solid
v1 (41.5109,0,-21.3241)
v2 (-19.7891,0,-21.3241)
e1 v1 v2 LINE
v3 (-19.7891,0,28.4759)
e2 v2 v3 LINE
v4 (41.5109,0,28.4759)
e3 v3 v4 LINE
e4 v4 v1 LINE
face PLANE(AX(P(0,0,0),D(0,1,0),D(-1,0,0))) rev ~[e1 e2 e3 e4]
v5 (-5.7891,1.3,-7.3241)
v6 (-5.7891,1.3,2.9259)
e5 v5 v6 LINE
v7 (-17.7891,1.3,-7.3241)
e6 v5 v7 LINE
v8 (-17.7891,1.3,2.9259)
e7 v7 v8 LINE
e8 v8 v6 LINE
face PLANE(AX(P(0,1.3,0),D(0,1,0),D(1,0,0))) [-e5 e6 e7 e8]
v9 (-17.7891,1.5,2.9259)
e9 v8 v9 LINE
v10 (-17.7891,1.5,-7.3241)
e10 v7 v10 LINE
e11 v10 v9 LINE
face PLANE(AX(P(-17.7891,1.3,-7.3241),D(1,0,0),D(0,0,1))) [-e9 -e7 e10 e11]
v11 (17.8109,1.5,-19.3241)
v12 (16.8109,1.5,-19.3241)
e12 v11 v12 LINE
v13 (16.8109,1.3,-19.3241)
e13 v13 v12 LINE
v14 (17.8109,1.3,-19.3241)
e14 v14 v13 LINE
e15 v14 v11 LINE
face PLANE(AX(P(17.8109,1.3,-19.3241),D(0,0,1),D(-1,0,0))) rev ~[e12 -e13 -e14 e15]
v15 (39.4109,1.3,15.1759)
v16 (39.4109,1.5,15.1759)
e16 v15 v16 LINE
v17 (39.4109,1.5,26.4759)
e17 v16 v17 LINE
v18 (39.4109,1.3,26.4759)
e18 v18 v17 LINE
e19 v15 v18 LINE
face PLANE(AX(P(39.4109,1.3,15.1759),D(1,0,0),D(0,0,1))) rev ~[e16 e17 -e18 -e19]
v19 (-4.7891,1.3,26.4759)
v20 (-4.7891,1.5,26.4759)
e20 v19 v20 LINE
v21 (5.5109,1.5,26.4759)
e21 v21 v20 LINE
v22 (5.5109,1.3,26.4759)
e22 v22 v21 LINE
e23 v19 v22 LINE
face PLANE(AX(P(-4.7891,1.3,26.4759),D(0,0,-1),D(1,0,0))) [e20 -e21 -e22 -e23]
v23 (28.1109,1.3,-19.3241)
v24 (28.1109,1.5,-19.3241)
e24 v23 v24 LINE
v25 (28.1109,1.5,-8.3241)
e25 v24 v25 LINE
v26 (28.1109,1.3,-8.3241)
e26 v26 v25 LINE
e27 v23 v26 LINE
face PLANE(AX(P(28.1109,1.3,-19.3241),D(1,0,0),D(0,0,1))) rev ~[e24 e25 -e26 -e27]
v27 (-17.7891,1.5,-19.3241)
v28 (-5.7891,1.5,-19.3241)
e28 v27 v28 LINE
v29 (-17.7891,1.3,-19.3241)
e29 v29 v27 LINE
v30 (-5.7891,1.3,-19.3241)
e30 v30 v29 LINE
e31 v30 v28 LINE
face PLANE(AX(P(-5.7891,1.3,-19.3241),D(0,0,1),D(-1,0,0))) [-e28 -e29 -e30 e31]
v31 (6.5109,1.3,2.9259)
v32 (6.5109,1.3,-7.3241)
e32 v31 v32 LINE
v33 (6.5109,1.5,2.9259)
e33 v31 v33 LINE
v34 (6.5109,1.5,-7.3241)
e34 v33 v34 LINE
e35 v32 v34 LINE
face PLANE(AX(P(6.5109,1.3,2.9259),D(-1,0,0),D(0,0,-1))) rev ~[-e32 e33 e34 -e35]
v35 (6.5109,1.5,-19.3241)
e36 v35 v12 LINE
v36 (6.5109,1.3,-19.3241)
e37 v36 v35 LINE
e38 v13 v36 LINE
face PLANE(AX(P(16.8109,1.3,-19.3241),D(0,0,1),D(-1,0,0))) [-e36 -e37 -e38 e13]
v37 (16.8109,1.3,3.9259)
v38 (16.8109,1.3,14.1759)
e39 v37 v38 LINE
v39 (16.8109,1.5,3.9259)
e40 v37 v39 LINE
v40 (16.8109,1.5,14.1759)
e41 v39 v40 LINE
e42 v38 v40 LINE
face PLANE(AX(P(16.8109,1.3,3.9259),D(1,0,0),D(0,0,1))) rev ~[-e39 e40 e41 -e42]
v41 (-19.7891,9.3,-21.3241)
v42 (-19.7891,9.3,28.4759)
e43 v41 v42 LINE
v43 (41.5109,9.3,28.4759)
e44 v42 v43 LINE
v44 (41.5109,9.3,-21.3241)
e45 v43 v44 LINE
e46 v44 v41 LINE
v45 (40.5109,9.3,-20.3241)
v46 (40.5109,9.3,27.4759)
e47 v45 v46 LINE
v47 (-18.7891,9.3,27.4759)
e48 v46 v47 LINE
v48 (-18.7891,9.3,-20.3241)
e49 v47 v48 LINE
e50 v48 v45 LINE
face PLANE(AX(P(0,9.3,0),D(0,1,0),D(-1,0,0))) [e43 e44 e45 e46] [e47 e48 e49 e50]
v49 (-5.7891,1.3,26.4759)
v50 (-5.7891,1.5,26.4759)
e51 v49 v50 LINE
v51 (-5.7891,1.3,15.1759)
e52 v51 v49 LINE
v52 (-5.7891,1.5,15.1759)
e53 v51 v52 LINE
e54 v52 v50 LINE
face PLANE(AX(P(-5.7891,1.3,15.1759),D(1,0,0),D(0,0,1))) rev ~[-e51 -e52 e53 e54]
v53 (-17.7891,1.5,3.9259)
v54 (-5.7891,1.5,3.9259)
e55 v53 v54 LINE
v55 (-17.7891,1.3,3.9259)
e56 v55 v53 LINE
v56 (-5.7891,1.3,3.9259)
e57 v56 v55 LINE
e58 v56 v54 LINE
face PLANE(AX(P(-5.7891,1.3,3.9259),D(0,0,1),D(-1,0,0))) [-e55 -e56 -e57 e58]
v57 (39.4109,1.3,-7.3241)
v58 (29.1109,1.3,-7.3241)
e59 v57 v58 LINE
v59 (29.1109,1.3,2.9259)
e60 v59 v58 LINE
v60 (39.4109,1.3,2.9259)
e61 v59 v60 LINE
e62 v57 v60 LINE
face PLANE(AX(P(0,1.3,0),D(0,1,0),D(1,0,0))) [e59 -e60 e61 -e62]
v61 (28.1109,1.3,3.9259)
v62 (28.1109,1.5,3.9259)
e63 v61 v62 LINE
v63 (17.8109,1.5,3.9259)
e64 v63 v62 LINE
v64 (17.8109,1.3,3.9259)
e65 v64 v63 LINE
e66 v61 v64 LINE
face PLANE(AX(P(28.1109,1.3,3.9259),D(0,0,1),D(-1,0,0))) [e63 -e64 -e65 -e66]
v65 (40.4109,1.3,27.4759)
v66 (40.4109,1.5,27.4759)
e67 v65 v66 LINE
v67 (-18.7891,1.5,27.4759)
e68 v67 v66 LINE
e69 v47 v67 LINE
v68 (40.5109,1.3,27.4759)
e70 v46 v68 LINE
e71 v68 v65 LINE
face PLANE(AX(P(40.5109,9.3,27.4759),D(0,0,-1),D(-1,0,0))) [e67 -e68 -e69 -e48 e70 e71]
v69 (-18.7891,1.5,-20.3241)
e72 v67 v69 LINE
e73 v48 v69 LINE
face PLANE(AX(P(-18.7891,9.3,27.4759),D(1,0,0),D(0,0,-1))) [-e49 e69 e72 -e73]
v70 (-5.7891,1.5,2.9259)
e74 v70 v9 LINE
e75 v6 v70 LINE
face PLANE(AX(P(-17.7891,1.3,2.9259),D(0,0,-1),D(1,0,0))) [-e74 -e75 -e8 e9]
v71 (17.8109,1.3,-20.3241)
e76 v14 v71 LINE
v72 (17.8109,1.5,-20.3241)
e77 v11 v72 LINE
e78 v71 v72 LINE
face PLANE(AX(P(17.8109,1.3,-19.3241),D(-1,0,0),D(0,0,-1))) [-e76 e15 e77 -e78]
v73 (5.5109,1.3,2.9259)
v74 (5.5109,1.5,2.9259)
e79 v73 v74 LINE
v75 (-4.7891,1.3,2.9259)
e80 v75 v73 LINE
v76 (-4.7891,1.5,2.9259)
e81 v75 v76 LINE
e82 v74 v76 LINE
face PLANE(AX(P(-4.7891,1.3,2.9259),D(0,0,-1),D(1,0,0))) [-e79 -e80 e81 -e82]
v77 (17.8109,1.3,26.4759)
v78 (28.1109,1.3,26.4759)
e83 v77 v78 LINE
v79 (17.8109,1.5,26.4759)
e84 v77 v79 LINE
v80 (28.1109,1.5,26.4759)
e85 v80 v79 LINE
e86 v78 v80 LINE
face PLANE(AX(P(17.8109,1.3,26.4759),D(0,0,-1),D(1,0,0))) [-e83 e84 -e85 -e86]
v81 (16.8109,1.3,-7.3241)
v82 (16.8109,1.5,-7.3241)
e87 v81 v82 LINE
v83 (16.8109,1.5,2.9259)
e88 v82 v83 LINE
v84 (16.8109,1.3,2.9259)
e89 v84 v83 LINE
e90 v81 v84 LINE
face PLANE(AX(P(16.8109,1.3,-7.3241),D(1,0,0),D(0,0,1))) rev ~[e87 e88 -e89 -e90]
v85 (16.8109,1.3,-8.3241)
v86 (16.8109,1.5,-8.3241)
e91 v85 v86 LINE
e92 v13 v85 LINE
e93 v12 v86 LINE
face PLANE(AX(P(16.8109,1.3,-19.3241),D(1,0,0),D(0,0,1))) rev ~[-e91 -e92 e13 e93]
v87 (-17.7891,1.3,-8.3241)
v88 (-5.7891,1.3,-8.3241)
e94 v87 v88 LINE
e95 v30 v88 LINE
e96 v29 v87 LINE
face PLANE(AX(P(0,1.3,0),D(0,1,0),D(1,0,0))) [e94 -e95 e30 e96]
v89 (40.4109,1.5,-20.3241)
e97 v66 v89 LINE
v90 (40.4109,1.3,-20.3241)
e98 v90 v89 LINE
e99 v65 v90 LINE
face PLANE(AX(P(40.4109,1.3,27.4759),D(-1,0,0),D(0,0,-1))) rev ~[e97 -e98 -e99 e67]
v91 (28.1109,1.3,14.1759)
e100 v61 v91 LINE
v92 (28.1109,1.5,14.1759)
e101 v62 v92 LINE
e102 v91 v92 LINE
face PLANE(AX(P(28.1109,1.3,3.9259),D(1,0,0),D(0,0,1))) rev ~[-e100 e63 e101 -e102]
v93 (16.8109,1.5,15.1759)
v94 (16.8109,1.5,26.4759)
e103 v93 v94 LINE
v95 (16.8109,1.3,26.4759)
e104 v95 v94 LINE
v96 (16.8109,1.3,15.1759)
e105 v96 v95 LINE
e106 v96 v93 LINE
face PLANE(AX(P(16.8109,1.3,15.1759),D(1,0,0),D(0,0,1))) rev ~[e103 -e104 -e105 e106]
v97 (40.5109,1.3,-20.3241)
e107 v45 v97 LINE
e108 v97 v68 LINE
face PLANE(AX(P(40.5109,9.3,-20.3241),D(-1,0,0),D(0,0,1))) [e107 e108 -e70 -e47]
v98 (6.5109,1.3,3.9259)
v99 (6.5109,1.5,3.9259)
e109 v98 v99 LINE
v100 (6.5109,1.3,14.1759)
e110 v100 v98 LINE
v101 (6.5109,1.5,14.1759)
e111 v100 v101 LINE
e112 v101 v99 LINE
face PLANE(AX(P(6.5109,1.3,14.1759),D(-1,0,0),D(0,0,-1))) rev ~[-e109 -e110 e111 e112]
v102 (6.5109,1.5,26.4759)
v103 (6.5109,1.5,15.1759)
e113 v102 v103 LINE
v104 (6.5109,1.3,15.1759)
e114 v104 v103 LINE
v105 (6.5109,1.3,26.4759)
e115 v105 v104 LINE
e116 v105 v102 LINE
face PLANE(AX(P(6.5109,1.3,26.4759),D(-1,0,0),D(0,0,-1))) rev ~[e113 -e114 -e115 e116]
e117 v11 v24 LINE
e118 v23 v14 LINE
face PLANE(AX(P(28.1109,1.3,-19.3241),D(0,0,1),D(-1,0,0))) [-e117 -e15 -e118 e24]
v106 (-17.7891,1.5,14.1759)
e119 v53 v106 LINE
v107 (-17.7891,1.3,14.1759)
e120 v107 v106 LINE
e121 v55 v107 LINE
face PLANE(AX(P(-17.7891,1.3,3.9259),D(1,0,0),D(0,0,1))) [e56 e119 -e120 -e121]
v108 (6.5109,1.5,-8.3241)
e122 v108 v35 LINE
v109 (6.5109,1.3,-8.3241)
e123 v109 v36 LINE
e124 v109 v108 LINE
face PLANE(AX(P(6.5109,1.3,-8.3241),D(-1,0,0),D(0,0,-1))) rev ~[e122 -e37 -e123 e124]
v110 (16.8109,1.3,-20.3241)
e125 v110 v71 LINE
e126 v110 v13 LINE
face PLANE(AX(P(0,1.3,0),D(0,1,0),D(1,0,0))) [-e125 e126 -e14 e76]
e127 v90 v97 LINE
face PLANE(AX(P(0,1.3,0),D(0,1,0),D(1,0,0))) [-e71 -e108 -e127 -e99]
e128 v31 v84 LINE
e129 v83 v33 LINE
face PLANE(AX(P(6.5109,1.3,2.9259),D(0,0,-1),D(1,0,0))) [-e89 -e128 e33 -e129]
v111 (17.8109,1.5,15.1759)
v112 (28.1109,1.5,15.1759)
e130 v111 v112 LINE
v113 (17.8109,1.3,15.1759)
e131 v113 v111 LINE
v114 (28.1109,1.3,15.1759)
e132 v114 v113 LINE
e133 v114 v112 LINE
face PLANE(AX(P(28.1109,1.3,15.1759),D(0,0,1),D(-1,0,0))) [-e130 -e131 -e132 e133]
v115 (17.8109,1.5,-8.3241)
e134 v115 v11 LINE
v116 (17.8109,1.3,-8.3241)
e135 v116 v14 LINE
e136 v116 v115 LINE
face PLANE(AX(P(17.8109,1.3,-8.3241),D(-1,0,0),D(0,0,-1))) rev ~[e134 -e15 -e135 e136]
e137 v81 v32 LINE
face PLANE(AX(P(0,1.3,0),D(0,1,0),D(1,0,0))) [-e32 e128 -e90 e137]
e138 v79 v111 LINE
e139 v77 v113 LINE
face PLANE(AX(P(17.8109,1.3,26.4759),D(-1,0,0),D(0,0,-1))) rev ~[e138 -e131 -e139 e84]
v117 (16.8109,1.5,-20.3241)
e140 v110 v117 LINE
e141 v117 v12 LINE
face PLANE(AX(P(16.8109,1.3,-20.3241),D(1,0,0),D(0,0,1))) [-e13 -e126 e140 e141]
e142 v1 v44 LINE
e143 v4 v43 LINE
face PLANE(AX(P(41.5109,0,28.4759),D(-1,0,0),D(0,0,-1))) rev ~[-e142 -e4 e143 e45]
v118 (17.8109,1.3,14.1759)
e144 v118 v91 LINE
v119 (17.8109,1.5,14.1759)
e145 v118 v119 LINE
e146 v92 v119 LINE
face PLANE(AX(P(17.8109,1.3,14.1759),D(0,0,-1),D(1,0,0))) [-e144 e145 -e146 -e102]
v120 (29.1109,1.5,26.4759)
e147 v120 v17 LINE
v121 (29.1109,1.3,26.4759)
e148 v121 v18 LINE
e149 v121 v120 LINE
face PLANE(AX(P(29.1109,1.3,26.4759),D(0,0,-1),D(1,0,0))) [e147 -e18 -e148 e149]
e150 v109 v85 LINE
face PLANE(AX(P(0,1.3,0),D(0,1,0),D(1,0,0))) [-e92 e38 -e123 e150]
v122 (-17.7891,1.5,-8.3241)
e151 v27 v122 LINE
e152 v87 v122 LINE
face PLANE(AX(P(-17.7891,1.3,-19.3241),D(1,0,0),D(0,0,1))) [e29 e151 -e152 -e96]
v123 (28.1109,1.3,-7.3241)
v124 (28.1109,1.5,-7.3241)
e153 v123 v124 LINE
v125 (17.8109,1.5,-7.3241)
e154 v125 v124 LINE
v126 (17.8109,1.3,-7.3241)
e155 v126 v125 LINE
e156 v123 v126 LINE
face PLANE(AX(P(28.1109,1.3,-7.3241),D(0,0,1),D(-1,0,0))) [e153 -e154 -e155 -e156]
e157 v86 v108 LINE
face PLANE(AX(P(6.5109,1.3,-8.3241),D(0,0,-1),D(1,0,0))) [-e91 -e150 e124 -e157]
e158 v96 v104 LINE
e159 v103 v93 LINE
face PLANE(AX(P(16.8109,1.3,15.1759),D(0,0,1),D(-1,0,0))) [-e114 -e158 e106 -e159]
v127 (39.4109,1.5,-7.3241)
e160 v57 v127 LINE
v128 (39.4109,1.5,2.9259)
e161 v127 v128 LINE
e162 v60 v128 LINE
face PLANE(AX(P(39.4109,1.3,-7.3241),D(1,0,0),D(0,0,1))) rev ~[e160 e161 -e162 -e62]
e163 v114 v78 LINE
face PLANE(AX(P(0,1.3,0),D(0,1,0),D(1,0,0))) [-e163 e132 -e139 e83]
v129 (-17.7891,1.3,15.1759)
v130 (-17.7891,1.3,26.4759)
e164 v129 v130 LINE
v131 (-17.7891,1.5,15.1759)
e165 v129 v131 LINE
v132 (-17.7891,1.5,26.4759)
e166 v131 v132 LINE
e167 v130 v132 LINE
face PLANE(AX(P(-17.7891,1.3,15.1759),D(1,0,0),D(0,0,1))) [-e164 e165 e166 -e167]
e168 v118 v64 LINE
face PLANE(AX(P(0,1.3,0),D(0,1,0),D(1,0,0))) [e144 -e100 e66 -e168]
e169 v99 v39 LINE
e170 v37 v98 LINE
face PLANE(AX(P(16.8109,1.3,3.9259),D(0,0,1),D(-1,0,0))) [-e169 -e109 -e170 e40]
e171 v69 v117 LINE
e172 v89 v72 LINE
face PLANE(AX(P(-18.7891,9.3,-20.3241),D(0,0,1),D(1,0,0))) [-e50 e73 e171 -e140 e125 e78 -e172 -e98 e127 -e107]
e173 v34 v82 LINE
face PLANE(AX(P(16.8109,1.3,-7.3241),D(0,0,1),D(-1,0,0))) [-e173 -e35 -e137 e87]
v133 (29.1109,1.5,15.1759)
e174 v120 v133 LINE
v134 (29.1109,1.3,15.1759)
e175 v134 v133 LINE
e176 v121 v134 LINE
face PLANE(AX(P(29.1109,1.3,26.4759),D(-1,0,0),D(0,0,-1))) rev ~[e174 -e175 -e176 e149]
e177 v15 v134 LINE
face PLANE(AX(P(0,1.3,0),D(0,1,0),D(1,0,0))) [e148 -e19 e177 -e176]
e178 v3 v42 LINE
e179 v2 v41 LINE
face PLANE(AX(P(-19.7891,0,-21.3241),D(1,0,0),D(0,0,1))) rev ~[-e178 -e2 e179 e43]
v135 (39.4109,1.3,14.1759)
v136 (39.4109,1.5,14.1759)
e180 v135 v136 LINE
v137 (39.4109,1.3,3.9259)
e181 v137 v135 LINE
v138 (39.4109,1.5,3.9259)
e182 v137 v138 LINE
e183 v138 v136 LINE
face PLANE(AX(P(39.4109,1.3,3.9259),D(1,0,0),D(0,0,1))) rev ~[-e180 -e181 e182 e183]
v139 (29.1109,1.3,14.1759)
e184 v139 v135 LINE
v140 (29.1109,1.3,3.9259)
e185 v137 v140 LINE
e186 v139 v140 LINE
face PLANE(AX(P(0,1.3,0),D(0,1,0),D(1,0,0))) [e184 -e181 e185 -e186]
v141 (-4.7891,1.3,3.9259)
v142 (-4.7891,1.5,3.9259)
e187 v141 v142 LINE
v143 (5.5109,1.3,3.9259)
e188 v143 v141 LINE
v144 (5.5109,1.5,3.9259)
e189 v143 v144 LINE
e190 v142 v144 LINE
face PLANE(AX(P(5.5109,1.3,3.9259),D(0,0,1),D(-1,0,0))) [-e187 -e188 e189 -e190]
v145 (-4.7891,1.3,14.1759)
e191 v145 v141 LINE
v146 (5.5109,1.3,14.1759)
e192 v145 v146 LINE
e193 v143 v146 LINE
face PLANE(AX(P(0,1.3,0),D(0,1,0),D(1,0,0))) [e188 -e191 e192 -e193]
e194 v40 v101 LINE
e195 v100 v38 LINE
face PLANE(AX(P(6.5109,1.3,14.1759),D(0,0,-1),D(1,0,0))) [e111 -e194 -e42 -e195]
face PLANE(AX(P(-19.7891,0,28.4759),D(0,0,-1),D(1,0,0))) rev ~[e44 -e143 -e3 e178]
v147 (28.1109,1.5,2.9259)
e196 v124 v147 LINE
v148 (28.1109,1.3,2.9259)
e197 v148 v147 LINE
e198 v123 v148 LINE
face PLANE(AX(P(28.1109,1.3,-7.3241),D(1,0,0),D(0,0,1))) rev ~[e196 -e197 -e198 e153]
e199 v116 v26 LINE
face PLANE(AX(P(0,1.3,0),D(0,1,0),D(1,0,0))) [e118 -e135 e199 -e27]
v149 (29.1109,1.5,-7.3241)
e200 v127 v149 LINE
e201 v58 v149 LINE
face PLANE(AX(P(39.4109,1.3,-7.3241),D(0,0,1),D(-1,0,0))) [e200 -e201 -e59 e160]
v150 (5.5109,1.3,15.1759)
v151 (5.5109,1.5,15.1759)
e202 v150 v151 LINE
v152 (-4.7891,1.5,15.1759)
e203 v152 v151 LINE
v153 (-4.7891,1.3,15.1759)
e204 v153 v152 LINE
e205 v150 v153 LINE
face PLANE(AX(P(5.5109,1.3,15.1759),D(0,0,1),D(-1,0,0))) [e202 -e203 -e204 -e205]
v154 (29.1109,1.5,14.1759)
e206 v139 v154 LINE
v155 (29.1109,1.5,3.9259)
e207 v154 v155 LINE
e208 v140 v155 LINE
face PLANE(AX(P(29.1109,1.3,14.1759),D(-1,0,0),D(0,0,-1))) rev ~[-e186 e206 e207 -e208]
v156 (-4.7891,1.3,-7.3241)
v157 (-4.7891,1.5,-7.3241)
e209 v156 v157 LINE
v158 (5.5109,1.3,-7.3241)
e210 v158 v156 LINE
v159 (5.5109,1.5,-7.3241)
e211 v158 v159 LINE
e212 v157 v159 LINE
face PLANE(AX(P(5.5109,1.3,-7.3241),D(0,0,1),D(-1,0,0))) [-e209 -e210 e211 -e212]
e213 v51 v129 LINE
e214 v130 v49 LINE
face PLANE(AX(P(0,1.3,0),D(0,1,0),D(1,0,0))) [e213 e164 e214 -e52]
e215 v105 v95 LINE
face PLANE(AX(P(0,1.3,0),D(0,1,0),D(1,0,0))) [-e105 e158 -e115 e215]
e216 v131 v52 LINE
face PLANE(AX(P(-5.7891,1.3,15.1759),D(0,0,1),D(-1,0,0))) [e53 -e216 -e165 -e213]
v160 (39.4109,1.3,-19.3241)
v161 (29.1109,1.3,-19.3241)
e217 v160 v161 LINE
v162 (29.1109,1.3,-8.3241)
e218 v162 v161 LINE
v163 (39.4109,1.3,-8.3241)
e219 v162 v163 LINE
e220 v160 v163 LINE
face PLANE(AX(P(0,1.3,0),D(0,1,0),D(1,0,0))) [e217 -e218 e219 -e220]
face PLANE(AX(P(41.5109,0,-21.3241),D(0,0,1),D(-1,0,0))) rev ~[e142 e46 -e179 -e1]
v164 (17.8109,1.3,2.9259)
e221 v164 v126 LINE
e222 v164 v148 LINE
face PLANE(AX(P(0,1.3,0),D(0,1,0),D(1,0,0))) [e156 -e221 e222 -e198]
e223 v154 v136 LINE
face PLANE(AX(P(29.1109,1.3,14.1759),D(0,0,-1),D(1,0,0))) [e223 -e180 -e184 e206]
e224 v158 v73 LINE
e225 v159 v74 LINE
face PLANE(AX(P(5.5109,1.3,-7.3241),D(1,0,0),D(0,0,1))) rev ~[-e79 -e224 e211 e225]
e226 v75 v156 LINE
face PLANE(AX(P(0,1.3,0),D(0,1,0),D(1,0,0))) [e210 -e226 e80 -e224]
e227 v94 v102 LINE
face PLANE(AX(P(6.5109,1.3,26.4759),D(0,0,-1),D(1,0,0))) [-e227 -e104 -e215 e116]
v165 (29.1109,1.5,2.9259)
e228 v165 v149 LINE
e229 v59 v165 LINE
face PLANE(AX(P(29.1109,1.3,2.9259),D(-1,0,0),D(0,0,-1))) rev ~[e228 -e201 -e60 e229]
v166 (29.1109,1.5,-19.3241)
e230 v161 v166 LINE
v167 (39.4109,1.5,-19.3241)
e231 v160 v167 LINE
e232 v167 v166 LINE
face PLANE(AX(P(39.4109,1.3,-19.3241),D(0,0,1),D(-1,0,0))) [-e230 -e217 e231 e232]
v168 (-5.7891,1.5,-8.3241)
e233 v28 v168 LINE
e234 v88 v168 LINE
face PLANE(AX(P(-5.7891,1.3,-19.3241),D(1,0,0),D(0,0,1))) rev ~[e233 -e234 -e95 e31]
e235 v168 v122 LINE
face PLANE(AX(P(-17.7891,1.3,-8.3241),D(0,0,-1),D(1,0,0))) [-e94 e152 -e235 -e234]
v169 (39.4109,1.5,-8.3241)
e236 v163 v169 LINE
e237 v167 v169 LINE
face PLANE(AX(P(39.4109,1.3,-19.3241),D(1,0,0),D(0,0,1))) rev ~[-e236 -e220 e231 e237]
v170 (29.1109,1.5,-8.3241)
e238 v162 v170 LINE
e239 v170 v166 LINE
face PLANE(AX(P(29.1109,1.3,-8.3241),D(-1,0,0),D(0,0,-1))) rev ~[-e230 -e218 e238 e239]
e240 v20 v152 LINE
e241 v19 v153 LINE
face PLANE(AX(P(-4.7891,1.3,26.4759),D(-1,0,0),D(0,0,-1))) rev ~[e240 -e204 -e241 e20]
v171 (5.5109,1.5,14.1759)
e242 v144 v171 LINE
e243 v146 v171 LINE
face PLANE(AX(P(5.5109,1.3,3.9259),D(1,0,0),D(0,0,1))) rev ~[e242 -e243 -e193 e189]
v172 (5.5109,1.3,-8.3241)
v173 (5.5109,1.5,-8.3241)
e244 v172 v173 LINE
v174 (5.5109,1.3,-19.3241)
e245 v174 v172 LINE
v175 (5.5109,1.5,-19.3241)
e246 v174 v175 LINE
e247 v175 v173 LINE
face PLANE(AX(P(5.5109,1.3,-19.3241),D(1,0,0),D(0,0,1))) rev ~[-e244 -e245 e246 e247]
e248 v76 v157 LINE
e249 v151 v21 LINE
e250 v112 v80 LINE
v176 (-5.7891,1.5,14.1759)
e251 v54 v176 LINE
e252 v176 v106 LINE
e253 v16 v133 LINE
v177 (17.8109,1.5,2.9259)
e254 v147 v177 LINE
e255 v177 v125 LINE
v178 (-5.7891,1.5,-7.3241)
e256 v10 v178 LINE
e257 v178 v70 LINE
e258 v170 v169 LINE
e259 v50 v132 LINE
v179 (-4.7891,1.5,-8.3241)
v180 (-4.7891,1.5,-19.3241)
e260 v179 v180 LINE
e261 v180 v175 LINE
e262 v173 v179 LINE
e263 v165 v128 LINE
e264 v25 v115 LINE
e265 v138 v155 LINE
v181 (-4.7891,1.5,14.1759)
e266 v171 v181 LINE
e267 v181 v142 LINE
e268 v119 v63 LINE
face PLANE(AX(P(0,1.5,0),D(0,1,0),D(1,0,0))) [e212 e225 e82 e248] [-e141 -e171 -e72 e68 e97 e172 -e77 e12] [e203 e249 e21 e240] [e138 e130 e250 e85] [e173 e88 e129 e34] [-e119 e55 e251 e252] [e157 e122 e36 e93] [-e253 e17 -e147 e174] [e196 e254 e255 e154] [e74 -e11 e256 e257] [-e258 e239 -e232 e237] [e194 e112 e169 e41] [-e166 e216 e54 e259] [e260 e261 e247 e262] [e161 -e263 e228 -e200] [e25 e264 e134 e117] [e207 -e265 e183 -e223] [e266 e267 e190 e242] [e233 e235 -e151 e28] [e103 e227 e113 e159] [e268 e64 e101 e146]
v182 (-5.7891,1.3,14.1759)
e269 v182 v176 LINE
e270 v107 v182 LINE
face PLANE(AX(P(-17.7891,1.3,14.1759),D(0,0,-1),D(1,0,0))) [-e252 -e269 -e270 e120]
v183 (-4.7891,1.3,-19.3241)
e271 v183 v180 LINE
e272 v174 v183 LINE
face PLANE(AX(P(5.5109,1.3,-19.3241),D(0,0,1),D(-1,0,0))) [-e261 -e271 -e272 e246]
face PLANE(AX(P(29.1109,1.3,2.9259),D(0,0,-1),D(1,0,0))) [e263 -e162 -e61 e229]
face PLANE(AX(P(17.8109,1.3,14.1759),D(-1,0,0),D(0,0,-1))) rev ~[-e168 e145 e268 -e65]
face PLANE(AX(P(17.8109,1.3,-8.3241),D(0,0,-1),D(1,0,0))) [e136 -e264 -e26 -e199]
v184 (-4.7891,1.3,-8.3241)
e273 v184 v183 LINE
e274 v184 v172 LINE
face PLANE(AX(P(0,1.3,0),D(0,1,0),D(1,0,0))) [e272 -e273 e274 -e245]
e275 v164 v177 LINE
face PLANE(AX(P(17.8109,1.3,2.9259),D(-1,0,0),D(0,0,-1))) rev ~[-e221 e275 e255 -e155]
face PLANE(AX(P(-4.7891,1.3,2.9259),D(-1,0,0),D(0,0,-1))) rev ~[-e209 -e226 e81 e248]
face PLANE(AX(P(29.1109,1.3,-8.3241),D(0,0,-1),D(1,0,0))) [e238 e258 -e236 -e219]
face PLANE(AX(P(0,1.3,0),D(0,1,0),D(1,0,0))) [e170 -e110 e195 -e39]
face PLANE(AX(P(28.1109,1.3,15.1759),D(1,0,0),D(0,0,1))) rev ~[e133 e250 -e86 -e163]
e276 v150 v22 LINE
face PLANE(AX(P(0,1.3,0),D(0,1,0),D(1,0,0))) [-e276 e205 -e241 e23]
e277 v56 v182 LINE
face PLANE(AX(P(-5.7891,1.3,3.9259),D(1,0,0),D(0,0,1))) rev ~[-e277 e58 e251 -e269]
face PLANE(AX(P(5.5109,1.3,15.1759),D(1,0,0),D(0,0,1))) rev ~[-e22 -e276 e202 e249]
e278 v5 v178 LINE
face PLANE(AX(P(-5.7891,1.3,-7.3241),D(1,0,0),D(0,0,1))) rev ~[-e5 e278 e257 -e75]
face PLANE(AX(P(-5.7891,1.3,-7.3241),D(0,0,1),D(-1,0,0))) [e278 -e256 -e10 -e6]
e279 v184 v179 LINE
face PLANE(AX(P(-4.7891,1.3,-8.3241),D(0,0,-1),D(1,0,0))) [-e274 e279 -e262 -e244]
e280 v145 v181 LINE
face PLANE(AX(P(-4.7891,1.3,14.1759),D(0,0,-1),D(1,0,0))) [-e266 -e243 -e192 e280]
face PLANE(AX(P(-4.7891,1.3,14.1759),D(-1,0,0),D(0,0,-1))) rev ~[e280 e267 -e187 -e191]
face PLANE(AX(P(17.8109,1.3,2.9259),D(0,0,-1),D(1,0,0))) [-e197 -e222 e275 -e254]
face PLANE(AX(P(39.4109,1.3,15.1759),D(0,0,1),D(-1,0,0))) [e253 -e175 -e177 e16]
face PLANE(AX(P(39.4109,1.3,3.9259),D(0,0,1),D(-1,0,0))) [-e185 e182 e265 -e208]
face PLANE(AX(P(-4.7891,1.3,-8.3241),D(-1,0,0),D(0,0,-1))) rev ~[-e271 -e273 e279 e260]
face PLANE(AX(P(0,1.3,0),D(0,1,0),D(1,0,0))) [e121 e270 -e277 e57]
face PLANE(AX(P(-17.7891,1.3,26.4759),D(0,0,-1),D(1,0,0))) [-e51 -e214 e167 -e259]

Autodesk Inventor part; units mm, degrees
ref_plane "YZ Plane" through (0, 0, 0) normal (1, 0, 0) x (0, 1, 0)
ref_plane "XZ Plane" through (0, 0, 0) normal (0, 1, 0) x (-1, 0, 0)
ref_plane "XY Plane" through (0, 0, 0) normal (0, 0, 1) x (1, 0, 0)
sketch "Sketch1" plane through (0, 0, 0) normal (0, 1, 0) x (-1, 0, 0)
  line L0 (19.7891, 28.4759) -> (-41.5109, 28.4759)
  line L1 (-41.5109, 28.4759) -> (-41.5109, -21.3241)
  line L2 (-41.5109, -21.3241) -> (19.7891, -21.3241)
  line L3 (19.7891, -21.3241) -> (19.7891, 28.4759)
  point P0 (0, 0)
  dimension "d0" = 49.8
  dimension "d1" = 61.3
extrude "Extrusion1" add sketch "Sketch1" along normal blind 9.3
sketch "Sketch2" plane through (0, 9.3, 0) normal (0, 1, 0) x (1, 0, 0)
  line L0 (-18.7891, 20.3241) -> (40.5109, 20.3241)
  line L1 (40.5109, 20.3241) -> (40.5109, -27.4759)
  line L2 (40.5109, -27.4759) -> (-18.7891, -27.4759)
  line L3 (-18.7891, -27.4759) -> (-18.7891, 20.3241)
  line L4 (41.5109, 21.3241) -> (-19.7891, 21.3241) projected
  line L5 (-19.7891, 21.3241) -> (-19.7891, -28.4759) projected
  point P0 (0, 0)
  dimension "d4" = 59.3
  dimension "d5" = 47.8
  dimension "d6" = 1
  dimension "d7" = 1
extrude "Extrusion2" cut sketch "Sketch2" against normal blind 8
sketch "Sketch3" plane through (0, 1.3, 0) normal (0, 1, 0) x (1, 0, 0)
  line L0 (-18.7891, 20.3241) -> (40.5109, 20.3241) projected
  line L1 (40.5109, -27.4759) -> (-18.7891, -27.4759) projected
  line L2 (-18.7891, 20.3241) -> (-17.7891, 20.3241)
  line L3 (-17.7891, 20.3241) -> (-17.7891, -27.4759)
  line L4 (-17.7891, -27.4759) -> (-18.7891, -27.4759)
  line L5 (-18.7891, -27.4759) -> (-18.7891, 20.3241)
  line L6 (-4.7891, 20.3241) -> (-5.7891, 20.3241)
  line L7 (-5.7891, 20.3241) -> (-5.7891, -27.4759)
  line L8 (-5.7891, -27.4759) -> (-4.7891, -27.4759)
  line L9 (-4.7891, -27.4759) -> (-4.7891, 20.3241)
  line L10 (-17.7891, 8.3241) -> (-5.7891, 8.3241)
  line L11 (-5.7891, 8.3241) -> (-5.7891, 7.3241)
  line L12 (-5.7891, 7.3241) -> (-17.7891, 7.3241)
  line L13 (-17.7891, 7.3241) -> (-17.7891, 8.3241)
  line L14 (-17.7891, -2.9259) -> (-5.7891, -2.9259)
  line L15 (-5.7891, -2.9259) -> (-5.7891, -3.9259)
  line L16 (-5.7891, -3.9259) -> (-17.7891, -3.9259)
  line L17 (-17.7891, -3.9259) -> (-17.7891, -2.9259)
  line L18 (-17.7891, -14.1759) -> (-5.7891, -14.1759)
  line L19 (-5.7891, -14.1759) -> (-5.7891, -15.1759)
  line L20 (-5.7891, -15.1759) -> (-17.7891, -15.1759)
  line L21 (-17.7891, -15.1759) -> (-17.7891, -14.1759)
  line L22 (-19.7891, 21.3241) -> (-19.7891, -28.4759) projected
  line L23 (-17.7891, 20.3241) -> (-5.7891, 20.3241)
  line L24 (-5.7891, 20.3241) -> (-5.7891, 19.3241)
  line L25 (-5.7891, 19.3241) -> (-17.7891, 19.3241)
  line L26 (-17.7891, 19.3241) -> (-17.7891, 20.3241)
  line L27 (-17.7891, -26.4759) -> (-5.7891, -26.4759)
  line L28 (-5.7891, -26.4759) -> (-5.7891, -27.4759)
  line L29 (-5.7891, -27.4759) -> (-17.7891, -27.4759)
  line L30 (-17.7891, -27.4759) -> (-17.7891, -26.4759)
  line L31 (5.5109, 19.3241) -> (-6.4891, 19.3241)
  line L32 (6.5109, -27.4759) -> (6.5109, 20.3241)
  line L33 (5.5109, 20.3241) -> (5.5109, -27.4759)
  line L34 (-6.4891, 8.3241) -> (5.5109, 8.3241)
  line L35 (5.5109, 7.3241) -> (-6.4891, 7.3241)
  line L36 (-6.4891, -2.9259) -> (5.5109, -2.9259)
  line L37 (5.5109, -3.9259) -> (-6.4891, -3.9259)
  line L38 (-6.4891, -14.1759) -> (5.5109, -14.1759)
  line L39 (5.5109, -15.1759) -> (-6.4891, -15.1759)
  line L40 (-6.4891, -26.4759) -> (5.5109, -26.4759)
  line L41 (5.5109, -27.4759) -> (-6.4891, -27.4759)
  line L42 (16.8109, 19.3241) -> (4.8109, 19.3241)
  line L43 (17.8109, -27.4759) -> (17.8109, 20.3241)
  line L44 (16.8109, 20.3241) -> (16.8109, -27.4759)
  line L45 (4.8109, 8.3241) -> (16.8109, 8.3241)
  line L46 (16.8109, 7.3241) -> (4.8109, 7.3241)
  line L47 (4.8109, -2.9259) -> (16.8109, -2.9259)
  line L48 (16.8109, -3.9259) -> (4.8109, -3.9259)
  line L49 (4.8109, -14.1759) -> (16.8109, -14.1759)
  line L50 (16.8109, -15.1759) -> (4.8109, -15.1759)
  line L51 (4.8109, -26.4759) -> (16.8109, -26.4759)
  line L52 (16.8109, -27.4759) -> (4.8109, -27.4759)
  line L53 (28.1109, 19.3241) -> (16.1109, 19.3241)
  line L54 (29.1109, -27.4759) -> (29.1109, 20.3241)
  line L55 (28.1109, 20.3241) -> (28.1109, -27.4759)
  line L56 (16.1109, 8.3241) -> (28.1109, 8.3241)
  line L57 (28.1109, 7.3241) -> (16.1109, 7.3241)
  line L58 (16.1109, -2.9259) -> (28.1109, -2.9259)
  line L59 (28.1109, -3.9259) -> (16.1109, -3.9259)
  line L60 (16.1109, -14.1759) -> (28.1109, -14.1759)
  line L61 (28.1109, -15.1759) -> (16.1109, -15.1759)
  line L62 (16.1109, -26.4759) -> (28.1109, -26.4759)
  line L63 (28.1109, -27.4759) -> (16.1109, -27.4759)
  line L64 (39.4109, 19.3241) -> (27.4109, 19.3241)
  line L65 (40.4109, -27.4759) -> (40.4109, 20.3241)
  line L66 (39.4109, 20.3241) -> (39.4109, -27.4759)
  line L67 (27.4109, 8.3241) -> (39.4109, 8.3241)
  line L68 (39.4109, 7.3241) -> (27.4109, 7.3241)
  line L69 (27.4109, -2.9259) -> (39.4109, -2.9259)
  line L70 (39.4109, -3.9259) -> (27.4109, -3.9259)
  line L71 (27.4109, -14.1759) -> (39.4109, -14.1759)
  line L72 (39.4109, -15.1759) -> (27.4109, -15.1759)
  line L73 (27.4109, -26.4759) -> (39.4109, -26.4759)
  line L74 (39.4109, -27.4759) -> (27.4109, -27.4759)
  point P0 (0, 0)
  point P1 (-11.7891, 8.3241)
  point P2 (-0.4891, 8.3241)
  point P3 (10.8109, 8.3241)
  point P4 (22.1109, 8.3241)
  point P5 (33.4109, 8.3241)
  point P6 (-18.7891, -27.4759)
  point P7 (40.4109, 20.3241)
  point P8 (17.8109, 20.3241)
  point P9 (17.8109, 19.3241)
  point P10 (17.8109, 8.3241)
  point P11 (6.5109, 8.3241)
  point P12 (6.5109, 19.3241)
  point P13 (-4.7891, 19.3241)
  point P14 (-4.7891, 8.3241)
  point P15 (-4.7891, 7.3241)
  point P16 (-4.7891, -2.9259)
  point P17 (-4.7891, -3.9259)
  point P18 (-4.7891, -14.1759)
  point P19 (6.5109, -3.9259)
  point P20 (6.5109, -14.1759)
  point P21 (17.8109, 7.3241)
  point P22 (17.8109, -2.9259)
  point P23 (17.8109, -15.1759)
  point P24 (17.8109, -26.4759)
  point P25 (29.1109, -2.9259)
  point P26 (29.1109, 7.3241)
  point P27 (29.1109, -26.4759)
  point P28 (29.1109, -15.1759)
  point P29 (29.1109, -14.1759)
  point P30 (29.1109, -3.9259)
  point P31 (29.1109, 19.3241)
  point P32 (29.1109, 8.3241)
  point P33 (17.8109, -3.9259)
  point P34 (17.8109, -14.1759)
  point P35 (6.5109, -15.1759)
  point P36 (6.5109, -26.4759)
  point P37 (6.5109, 7.3241)
  point P38 (6.5109, -2.9259)
  point P39 (-4.7891, -15.1759)
  point P40 (-4.7891, -26.4759)
  dimension "d10" = 1
  dimension "d12" = 1
  dimension "d13" = 12
  dimension "d14" = 1
  dimension "d15" = 12
  dimension "d16" = 1
  dimension "d17" = 1
  dimension "d18" = 10.25
  dimension "d19" = 10.25
  dimension "d20" = 2
  dimension "d21" = 1
  dimension "d22" = 1
  dimension "d25" = 11.3
extrude "Extrusion3" add sketch "Sketch3" along normal blind 0.2 contours L0 L3 L1 L5 | L0 L7 L25 L3 | L0 L9 L31 L7 | L3 L27 L7 L1 | L0 L33 L31 L9 | L31 L9 L34 L7 | L10 L7 L12 L3 | L0 L32 L42 L33 | L34 L9 L35 L7 | L7 L40 L9 L1 | L3 L18 L7 L20 | L0 L44 L42 L32 | L42 L32 L45 L33 | L34 L33 L35 L9 | L35 L9 L36 L7 | L14 L7 L16 L3 | L9 L40 L33 L1 | L7 L39 L9 L40 | L45 L32 L46 L33 | L36 L9 L37 L7 | L7 L38 L9 L39 | L0 L55 L53 L43 | L53 L43 L56 L44 | L45 L44 L46 L32 | L46 L32 L47 L33 | L36 L33 L37 L9 | L37 L9 L38 L7 | L33 L51 L32 L1 | L9 L38 L33 L39 | L0 L54 L64 L55 | L56 L43 L57 L44 | L47 L32 L48 L33 | L32 L51 L44 L1 | L33 L50 L32 L51 | L0 L66 L64 L54 | L64 L54 L67 L55 | L56 L55 L57 L43 | L57 L43 L58 L44 | L47 L44 L48 L32 | L48 L32 L49 L33 | L33 L49 L32 L50 | L0 L65 L1 L66 | L67 L54 L68 L55 | L58 L43 L59 L44 | L44 L62 L43 L1 | L32 L49 L44 L50 | L67 L66 L68 L54 | L68 L54 L69 L55 | L58 L55 L59 L43 | L59 L43 L60 L44 | L43 L62 L55 L1 | L44 L61 L43 L62 | L69 L54 L70 L55 | L60 L43 L61 L44 | L1 L54 L73 L66 | L69 L66 L70 L54 | L70 L54 L71 L55 | L60 L55 L61 L43 | L55 L73 L54 L1 | L71 L54 L72 L55 | L55 L72 L54 L73 | L72 L54 L71 L66
properties part number "PanHolderLid"
